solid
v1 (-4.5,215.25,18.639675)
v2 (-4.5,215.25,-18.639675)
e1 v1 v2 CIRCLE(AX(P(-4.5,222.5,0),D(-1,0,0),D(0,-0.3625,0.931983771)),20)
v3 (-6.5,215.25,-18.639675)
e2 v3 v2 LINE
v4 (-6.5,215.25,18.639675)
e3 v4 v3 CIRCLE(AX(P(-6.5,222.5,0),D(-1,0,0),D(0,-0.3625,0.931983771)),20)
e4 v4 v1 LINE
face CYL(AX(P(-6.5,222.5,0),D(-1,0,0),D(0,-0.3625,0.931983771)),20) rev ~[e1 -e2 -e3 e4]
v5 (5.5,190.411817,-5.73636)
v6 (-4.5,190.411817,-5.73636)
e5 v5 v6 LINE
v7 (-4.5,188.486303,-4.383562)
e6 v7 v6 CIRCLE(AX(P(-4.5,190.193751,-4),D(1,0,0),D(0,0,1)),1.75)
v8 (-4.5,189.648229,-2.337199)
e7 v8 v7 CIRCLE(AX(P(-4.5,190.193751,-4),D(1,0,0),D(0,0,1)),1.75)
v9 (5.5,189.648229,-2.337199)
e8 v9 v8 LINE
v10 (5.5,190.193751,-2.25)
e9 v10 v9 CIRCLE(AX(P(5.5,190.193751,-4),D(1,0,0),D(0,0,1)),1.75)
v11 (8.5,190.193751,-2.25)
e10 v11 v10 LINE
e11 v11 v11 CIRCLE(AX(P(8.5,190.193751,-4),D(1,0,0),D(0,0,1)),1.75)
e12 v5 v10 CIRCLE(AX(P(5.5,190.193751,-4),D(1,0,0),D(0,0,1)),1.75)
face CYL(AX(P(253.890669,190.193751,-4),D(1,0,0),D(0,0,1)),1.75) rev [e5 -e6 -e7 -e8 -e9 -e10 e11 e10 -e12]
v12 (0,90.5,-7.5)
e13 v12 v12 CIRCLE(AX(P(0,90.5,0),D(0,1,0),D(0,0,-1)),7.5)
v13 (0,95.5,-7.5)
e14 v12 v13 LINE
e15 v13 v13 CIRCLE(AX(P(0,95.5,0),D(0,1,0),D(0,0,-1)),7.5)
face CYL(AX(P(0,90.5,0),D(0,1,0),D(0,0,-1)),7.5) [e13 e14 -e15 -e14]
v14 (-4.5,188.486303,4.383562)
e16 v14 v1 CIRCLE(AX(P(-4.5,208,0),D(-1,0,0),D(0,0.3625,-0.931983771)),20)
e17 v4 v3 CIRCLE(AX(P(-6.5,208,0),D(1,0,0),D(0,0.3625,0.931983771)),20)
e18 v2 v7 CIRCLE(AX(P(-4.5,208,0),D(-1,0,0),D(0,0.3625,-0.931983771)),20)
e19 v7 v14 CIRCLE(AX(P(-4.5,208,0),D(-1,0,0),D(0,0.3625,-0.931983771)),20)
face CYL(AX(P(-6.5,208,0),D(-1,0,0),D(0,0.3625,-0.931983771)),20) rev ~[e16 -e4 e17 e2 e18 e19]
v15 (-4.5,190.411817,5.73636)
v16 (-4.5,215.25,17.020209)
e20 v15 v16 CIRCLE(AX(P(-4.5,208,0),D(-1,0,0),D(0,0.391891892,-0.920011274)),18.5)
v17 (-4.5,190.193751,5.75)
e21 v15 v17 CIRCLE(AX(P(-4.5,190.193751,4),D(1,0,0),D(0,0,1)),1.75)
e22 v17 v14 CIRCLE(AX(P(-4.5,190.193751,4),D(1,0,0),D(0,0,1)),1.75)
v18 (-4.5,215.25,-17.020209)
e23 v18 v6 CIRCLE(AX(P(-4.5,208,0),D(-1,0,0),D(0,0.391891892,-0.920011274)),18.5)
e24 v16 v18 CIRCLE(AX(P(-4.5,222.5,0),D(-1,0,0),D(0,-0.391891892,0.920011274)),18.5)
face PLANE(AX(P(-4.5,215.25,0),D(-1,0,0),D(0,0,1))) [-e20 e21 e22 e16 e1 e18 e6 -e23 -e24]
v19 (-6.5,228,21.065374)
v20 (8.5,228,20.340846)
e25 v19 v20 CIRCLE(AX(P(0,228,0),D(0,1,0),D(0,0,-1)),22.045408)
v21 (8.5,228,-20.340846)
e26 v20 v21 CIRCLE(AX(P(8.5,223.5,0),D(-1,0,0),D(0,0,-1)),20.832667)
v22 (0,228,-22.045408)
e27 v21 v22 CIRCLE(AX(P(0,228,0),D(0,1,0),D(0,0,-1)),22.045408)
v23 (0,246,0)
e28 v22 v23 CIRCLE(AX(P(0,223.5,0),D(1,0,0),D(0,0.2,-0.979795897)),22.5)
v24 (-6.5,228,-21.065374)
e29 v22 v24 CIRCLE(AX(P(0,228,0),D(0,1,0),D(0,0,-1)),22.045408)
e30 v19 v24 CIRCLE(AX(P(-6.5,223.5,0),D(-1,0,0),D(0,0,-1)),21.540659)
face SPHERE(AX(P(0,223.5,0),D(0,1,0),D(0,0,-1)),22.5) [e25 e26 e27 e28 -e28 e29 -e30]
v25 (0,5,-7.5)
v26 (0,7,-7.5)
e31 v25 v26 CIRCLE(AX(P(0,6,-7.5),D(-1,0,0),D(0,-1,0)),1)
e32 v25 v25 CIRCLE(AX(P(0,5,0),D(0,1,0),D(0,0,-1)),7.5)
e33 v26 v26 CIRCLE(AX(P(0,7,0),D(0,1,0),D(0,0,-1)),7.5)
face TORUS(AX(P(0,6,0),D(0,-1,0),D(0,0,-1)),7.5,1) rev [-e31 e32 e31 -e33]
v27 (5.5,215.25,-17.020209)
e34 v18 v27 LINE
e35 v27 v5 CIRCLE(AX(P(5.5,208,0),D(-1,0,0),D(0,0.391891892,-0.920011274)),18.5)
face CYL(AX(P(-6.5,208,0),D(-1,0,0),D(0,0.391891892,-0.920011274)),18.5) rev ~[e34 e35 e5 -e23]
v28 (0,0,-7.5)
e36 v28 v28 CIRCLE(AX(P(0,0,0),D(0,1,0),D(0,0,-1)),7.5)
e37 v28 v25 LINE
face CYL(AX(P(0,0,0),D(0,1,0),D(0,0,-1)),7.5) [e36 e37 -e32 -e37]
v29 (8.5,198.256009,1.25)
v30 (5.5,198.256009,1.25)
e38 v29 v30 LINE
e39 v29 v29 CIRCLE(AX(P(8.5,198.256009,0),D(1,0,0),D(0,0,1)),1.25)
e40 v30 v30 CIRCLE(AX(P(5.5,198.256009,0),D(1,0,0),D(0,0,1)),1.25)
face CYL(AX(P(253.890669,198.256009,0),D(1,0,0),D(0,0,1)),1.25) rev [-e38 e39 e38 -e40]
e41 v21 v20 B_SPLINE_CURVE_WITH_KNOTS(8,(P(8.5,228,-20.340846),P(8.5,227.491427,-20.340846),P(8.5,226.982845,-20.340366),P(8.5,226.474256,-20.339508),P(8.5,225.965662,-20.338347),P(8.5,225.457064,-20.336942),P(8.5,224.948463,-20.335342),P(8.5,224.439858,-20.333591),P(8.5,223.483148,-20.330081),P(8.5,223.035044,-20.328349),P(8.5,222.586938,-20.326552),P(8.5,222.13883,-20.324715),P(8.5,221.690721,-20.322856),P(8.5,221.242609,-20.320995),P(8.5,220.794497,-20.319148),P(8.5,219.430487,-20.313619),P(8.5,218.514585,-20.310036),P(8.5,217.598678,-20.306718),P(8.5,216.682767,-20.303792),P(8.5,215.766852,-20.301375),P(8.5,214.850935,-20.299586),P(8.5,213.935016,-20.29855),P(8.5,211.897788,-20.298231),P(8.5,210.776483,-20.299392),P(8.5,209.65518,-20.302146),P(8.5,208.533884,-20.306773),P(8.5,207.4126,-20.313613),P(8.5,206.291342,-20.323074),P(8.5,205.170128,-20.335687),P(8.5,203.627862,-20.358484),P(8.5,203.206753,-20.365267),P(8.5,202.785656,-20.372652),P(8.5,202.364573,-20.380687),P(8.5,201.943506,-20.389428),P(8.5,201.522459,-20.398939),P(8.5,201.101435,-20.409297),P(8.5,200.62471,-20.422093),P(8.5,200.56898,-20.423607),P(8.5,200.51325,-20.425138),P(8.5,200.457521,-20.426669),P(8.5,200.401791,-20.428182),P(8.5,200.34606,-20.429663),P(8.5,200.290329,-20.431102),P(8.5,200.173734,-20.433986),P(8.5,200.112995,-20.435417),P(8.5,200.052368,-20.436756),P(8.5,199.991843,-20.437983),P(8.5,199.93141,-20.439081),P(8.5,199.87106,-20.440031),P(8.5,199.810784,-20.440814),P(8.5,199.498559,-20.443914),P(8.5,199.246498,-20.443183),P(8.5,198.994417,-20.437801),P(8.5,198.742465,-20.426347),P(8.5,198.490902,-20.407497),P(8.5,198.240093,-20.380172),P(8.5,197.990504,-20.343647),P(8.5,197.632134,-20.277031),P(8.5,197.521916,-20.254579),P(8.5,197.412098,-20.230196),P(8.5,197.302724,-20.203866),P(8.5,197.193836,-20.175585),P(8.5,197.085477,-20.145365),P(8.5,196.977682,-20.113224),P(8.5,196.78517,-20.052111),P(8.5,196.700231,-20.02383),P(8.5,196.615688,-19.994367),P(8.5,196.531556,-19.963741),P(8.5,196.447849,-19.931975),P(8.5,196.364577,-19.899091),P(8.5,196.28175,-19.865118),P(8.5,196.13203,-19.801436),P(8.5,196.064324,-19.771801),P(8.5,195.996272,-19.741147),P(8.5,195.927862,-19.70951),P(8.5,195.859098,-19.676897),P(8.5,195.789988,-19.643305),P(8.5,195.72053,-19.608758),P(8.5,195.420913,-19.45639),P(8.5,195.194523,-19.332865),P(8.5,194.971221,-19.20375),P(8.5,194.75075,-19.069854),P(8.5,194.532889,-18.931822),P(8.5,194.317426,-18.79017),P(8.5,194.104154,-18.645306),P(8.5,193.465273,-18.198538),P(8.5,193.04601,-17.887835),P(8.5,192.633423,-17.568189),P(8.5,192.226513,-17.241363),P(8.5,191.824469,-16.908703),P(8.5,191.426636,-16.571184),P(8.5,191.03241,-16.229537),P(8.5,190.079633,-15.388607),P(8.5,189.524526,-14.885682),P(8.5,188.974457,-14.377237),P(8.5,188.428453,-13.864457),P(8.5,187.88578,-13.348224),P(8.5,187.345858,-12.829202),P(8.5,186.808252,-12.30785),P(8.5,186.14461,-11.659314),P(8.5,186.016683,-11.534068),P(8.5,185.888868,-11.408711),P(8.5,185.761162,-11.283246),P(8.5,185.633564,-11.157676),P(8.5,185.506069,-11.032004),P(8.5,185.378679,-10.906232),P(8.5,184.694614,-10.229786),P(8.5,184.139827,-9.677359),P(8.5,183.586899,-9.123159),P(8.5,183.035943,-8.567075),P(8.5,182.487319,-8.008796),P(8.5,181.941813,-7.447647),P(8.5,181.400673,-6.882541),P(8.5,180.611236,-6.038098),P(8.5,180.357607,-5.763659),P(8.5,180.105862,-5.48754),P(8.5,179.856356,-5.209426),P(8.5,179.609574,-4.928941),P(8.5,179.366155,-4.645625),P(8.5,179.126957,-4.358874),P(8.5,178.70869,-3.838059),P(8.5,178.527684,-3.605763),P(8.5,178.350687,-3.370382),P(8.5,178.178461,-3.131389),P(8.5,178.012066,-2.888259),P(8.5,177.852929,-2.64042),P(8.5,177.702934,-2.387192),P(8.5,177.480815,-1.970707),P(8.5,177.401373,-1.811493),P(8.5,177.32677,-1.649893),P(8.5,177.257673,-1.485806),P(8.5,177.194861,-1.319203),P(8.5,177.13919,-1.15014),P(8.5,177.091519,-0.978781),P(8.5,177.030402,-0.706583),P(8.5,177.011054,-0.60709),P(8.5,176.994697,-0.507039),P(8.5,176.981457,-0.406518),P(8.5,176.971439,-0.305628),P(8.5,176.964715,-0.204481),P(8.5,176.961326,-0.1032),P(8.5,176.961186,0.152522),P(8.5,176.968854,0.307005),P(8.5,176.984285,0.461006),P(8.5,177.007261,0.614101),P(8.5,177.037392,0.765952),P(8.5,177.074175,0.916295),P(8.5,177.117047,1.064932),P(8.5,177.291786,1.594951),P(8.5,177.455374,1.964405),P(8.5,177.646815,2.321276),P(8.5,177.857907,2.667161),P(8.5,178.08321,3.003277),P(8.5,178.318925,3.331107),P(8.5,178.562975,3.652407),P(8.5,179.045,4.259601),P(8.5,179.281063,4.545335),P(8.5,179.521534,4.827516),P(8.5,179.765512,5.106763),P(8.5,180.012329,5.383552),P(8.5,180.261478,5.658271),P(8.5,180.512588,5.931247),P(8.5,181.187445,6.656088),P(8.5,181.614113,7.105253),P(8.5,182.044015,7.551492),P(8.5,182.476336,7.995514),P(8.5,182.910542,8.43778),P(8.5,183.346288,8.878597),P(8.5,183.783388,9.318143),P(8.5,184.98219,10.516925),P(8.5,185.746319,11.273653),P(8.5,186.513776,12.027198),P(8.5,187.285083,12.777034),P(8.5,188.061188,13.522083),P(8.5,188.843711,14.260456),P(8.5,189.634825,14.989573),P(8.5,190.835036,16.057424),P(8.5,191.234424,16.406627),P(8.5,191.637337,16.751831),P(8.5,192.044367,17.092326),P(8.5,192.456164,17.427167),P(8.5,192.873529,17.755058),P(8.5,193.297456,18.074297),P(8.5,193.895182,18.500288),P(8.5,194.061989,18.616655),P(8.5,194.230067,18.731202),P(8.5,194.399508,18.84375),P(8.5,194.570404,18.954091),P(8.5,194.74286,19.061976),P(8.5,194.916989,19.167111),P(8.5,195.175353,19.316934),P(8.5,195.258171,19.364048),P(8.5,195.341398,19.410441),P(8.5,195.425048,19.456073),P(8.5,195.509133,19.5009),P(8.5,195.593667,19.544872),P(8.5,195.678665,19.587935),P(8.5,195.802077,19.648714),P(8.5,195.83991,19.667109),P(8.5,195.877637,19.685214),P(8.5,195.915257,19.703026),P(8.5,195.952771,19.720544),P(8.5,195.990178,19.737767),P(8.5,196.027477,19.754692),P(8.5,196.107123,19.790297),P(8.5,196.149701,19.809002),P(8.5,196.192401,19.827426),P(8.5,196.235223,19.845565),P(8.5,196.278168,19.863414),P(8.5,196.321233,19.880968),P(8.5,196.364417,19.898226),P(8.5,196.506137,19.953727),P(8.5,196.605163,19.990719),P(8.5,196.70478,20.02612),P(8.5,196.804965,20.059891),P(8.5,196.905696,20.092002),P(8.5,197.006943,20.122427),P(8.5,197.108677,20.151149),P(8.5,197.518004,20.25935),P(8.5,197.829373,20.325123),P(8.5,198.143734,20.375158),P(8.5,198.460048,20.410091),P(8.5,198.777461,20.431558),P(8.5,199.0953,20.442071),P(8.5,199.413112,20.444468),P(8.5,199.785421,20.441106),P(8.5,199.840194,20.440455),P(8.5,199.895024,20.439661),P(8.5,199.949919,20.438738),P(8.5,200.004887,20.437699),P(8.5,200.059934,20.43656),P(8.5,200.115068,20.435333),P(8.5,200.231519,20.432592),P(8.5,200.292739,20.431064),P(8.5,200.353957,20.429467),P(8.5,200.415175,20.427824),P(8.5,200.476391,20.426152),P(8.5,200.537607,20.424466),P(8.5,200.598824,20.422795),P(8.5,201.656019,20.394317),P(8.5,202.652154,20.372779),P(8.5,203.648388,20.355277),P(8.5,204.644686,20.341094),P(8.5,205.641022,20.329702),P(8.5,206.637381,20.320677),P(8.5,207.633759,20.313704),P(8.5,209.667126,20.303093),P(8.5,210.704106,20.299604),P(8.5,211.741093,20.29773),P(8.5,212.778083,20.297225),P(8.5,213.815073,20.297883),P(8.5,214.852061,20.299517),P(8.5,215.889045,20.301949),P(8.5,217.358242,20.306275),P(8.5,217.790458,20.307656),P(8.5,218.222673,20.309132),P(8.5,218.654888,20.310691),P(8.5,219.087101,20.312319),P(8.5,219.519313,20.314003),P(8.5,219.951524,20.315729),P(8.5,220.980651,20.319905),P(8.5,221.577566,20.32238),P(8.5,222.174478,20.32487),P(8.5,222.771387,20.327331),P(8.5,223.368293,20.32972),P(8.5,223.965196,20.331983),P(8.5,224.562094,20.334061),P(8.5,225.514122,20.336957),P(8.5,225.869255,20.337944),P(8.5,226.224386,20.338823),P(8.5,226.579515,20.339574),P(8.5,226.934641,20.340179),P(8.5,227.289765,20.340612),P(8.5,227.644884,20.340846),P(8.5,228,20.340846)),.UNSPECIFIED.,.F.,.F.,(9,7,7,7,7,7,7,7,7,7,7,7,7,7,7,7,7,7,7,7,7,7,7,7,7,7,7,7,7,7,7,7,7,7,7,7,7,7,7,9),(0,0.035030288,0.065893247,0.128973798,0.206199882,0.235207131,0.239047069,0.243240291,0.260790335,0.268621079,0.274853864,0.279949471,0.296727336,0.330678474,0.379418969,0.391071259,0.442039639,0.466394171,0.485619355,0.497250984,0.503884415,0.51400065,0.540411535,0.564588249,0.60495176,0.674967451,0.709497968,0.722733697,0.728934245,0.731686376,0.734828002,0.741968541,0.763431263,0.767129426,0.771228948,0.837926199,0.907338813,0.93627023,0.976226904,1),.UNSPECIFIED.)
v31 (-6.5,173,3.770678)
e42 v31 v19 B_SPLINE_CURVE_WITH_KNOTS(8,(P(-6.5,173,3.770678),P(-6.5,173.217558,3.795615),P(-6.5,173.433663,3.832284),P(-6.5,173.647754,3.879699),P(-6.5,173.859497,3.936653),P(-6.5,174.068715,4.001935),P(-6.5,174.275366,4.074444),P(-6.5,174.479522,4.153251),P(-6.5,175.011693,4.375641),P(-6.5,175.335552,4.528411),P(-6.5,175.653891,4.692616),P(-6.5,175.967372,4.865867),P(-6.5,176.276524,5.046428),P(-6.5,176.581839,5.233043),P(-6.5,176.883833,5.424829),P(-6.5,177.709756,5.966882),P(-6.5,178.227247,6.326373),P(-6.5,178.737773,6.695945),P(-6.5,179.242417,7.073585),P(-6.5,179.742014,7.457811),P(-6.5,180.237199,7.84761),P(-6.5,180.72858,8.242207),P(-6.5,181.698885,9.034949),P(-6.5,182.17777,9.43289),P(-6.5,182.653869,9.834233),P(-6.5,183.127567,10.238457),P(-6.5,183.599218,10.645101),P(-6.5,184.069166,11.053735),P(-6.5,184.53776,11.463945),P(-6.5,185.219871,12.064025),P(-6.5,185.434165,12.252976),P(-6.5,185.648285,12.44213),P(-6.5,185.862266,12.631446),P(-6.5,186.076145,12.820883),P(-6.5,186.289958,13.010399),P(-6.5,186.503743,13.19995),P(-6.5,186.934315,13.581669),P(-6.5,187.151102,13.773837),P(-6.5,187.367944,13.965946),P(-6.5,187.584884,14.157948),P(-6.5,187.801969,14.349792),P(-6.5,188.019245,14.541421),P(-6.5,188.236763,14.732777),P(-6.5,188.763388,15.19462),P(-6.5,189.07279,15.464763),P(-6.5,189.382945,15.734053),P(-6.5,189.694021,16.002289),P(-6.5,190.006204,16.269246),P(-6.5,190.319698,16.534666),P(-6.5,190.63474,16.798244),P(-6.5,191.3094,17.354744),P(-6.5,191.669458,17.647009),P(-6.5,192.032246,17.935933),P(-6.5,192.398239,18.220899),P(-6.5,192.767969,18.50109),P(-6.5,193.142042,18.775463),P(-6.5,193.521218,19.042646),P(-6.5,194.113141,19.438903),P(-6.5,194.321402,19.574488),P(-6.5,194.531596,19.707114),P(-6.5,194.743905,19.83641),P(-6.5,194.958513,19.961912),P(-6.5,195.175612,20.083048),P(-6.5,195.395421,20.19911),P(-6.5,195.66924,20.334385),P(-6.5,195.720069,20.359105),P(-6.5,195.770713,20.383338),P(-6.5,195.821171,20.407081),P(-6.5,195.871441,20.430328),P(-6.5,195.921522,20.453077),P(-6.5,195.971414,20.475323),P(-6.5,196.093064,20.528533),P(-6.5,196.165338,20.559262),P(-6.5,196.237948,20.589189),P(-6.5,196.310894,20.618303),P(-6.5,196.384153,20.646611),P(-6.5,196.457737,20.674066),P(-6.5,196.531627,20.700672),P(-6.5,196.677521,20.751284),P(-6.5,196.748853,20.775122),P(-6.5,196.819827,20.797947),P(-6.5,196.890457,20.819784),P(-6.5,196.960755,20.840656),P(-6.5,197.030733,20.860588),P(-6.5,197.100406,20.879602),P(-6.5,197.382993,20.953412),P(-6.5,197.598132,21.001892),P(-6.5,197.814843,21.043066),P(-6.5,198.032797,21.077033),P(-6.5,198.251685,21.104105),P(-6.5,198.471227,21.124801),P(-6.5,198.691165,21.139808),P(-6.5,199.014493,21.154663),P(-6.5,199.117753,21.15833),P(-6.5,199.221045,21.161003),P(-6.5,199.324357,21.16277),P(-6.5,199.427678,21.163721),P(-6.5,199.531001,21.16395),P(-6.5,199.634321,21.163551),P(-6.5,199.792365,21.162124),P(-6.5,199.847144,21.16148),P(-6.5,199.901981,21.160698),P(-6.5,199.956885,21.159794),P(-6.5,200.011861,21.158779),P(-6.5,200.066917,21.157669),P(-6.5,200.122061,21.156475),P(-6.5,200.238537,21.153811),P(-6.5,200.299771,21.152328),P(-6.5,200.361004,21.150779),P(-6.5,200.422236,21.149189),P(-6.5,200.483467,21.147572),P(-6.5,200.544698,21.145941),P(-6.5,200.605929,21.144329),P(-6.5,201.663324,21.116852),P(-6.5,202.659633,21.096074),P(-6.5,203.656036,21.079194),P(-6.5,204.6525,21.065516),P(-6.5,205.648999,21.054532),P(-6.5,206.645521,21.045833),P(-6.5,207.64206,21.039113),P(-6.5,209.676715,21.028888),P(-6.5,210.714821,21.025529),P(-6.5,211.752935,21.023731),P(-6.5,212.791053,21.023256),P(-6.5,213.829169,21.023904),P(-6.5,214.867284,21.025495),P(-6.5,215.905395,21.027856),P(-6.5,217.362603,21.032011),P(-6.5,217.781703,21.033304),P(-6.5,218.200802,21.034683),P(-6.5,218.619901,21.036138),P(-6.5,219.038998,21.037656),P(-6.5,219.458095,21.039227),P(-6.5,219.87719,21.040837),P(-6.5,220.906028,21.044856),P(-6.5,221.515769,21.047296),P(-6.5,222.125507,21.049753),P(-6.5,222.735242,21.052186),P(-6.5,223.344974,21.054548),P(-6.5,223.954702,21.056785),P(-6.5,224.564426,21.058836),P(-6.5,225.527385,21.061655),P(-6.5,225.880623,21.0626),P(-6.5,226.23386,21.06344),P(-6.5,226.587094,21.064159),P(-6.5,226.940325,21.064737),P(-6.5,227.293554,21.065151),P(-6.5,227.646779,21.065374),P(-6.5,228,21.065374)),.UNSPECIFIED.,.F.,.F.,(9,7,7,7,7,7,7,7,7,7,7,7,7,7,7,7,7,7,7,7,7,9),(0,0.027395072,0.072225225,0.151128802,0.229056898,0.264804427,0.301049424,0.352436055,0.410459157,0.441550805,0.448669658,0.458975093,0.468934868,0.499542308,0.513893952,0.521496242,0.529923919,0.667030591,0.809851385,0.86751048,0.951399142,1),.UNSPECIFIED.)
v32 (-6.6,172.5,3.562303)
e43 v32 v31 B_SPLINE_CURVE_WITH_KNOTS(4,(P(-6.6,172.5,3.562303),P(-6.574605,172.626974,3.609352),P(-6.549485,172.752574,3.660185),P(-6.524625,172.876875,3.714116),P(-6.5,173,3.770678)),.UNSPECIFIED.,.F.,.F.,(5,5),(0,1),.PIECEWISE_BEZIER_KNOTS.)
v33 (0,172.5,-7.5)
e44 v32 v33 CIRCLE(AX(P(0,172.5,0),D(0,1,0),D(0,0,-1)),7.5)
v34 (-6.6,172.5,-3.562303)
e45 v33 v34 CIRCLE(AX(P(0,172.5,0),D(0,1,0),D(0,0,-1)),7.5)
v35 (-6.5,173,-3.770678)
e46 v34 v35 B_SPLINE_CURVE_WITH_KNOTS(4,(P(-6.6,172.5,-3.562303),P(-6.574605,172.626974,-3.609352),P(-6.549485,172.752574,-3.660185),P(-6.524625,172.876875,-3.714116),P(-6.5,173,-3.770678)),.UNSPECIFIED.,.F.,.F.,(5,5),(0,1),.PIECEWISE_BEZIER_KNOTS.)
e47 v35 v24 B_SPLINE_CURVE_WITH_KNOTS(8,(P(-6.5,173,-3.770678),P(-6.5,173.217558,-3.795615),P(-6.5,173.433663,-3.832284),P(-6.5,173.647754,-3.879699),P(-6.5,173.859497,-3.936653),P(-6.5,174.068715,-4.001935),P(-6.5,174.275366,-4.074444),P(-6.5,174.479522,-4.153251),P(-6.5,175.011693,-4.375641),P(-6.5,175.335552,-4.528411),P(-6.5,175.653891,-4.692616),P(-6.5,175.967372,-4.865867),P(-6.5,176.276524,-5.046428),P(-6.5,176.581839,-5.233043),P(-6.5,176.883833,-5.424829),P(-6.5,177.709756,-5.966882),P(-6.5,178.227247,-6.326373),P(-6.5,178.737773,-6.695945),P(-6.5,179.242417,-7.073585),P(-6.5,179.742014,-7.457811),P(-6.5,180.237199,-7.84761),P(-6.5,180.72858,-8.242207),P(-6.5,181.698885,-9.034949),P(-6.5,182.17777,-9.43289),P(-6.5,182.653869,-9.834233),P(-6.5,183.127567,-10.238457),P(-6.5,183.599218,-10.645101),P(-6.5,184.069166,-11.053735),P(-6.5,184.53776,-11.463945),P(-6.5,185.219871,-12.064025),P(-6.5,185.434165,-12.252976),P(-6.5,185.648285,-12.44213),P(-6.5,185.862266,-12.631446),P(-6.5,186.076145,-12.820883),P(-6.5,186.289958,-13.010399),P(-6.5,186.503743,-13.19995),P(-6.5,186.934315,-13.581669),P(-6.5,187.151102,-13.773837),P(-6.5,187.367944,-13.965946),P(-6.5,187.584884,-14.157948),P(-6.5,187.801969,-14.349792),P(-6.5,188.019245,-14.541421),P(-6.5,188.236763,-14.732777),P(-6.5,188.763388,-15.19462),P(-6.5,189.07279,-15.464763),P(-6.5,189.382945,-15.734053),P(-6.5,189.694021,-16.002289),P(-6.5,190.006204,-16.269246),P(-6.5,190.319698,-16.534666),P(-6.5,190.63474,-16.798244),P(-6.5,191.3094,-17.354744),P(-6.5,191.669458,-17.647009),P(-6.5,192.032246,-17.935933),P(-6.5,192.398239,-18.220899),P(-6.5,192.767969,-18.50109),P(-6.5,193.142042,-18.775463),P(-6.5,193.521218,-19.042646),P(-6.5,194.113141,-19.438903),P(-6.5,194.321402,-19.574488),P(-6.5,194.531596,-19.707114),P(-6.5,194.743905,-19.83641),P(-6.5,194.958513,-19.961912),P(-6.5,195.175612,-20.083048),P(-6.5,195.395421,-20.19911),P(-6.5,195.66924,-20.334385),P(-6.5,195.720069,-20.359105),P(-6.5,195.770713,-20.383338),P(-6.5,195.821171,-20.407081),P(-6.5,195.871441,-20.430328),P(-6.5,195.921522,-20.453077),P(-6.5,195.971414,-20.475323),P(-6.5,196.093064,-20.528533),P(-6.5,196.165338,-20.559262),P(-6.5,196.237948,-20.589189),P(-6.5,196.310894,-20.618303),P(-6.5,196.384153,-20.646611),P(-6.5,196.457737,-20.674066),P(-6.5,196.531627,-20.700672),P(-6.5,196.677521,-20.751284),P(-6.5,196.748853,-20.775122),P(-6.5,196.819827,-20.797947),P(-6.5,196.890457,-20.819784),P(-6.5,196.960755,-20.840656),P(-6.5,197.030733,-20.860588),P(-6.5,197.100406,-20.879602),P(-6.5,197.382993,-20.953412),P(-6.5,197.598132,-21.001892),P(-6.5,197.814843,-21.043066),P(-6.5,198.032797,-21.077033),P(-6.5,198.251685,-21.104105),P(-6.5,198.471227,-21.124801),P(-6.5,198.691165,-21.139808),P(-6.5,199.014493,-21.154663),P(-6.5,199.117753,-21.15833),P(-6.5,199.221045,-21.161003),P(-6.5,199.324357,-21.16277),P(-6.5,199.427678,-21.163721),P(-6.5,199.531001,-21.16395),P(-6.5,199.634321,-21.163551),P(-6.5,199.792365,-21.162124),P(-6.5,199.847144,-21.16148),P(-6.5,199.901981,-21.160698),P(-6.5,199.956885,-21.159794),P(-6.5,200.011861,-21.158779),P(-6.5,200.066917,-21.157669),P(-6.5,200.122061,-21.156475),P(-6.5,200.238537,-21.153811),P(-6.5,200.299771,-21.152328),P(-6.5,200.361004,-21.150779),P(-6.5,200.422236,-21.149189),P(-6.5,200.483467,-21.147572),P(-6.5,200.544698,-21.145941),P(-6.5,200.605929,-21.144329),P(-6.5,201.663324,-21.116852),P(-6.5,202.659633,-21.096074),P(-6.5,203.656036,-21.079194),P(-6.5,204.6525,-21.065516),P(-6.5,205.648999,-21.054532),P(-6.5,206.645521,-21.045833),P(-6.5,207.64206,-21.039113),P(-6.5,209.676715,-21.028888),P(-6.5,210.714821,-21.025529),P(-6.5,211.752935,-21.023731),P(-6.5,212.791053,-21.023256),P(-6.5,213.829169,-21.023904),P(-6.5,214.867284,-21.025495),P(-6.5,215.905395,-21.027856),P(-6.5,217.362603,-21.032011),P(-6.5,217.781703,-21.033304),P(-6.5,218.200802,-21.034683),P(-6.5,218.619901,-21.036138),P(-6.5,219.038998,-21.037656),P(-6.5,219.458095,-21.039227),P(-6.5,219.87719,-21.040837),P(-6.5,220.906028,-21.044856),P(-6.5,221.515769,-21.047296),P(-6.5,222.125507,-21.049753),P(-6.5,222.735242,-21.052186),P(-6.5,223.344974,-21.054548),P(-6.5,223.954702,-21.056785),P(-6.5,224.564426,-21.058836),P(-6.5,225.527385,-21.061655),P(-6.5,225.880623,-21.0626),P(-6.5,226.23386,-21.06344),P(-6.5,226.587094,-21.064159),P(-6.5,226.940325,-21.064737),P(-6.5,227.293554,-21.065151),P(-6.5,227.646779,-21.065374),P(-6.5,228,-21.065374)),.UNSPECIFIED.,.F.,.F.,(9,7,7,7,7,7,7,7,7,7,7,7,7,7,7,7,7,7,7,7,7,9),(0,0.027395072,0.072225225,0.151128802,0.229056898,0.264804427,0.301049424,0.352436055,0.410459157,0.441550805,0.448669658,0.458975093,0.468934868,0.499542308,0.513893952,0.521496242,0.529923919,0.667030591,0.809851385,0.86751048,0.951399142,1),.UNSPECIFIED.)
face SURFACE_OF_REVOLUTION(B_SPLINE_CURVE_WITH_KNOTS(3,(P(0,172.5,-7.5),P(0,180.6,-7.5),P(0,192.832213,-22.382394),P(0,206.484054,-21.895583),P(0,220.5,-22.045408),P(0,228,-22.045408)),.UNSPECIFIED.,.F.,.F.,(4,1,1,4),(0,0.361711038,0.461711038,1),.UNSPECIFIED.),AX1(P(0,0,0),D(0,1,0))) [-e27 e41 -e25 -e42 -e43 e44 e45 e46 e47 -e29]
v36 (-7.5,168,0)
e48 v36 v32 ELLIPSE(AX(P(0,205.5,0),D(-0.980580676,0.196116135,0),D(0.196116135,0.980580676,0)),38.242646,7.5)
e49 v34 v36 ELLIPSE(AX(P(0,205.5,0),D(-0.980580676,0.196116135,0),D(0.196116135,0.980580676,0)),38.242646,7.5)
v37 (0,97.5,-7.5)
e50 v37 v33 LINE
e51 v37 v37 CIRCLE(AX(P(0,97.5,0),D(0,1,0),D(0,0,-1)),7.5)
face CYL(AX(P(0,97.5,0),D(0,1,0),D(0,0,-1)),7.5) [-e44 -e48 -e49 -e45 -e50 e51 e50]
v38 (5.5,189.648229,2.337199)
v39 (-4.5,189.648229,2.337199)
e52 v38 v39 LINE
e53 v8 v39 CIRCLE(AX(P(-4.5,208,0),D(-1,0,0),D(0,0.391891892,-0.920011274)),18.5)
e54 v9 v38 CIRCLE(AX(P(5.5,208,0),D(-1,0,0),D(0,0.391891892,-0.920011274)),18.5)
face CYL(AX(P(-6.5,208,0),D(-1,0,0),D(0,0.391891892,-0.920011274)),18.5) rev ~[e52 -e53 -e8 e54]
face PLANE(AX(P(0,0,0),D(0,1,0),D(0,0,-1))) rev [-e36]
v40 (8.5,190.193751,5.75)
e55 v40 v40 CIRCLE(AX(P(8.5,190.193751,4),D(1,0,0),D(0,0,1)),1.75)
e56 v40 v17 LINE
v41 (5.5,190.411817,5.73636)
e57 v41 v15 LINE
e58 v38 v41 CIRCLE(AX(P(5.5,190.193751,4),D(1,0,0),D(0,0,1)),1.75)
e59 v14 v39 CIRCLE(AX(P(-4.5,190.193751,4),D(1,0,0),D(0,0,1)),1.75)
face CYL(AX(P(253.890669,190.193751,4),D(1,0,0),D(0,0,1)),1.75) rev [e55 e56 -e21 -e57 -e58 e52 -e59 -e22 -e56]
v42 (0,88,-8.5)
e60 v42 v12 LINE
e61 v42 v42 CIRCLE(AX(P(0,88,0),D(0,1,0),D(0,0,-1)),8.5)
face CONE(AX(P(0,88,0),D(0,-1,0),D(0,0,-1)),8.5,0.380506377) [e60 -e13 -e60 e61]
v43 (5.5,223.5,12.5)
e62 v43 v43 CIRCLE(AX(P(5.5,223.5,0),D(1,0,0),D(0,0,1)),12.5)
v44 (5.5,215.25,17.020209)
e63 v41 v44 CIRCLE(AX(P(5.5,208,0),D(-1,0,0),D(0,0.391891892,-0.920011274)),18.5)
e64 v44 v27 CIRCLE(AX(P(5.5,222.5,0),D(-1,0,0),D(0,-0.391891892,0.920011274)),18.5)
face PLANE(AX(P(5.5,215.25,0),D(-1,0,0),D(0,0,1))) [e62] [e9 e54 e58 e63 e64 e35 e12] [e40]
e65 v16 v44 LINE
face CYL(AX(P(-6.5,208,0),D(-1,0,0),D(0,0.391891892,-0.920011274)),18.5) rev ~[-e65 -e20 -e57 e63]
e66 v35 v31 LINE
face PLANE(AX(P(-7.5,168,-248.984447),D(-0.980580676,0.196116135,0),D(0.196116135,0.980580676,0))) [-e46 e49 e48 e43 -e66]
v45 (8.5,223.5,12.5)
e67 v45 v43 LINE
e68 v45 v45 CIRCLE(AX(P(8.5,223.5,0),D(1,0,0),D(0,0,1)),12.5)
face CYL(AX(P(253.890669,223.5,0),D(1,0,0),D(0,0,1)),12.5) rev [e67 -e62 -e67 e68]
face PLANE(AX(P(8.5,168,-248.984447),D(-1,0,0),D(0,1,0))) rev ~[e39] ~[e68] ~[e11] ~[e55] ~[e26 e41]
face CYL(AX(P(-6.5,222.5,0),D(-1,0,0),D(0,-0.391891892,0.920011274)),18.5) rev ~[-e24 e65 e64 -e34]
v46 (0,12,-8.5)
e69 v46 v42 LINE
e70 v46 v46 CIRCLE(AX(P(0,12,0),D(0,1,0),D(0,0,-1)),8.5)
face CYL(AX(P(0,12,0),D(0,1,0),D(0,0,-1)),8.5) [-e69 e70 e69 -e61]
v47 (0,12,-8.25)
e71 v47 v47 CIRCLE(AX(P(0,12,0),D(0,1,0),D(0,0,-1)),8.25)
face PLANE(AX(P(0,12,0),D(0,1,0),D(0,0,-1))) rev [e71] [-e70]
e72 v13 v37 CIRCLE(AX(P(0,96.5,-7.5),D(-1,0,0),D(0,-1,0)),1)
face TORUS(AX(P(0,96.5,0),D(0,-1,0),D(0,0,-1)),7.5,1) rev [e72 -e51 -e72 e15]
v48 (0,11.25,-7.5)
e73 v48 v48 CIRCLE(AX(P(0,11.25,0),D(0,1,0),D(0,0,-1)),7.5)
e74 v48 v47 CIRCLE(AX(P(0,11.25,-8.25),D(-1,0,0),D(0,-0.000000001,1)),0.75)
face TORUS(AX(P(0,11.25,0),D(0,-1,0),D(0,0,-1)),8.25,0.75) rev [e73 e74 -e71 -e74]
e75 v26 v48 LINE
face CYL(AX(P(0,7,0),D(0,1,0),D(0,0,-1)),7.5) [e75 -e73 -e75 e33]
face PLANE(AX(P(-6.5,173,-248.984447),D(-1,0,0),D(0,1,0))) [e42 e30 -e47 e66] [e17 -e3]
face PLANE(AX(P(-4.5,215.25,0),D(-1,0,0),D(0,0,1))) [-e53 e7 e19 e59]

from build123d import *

# Parameters (mm, degrees)
WYTNIJ_WYCI_GNI_CIE1_DEPTH      = 248.984446753
WYTNIJ_WYCI_GNI_CIE1_DEPTH_BACK = 248.984446753
SZKIC2_W                        = 31.290574964
SZKIC2_H                        = 87.321210772
WYTNIJ_WYCI_GNI_CIE2_DEPTH      = 2
WYTNIJ_WYCI_GNI_CIE3_DEPTH      = 12
WYTNIJ_WYCI_GNI_CIE4_DEPTH      = 248.390668611
WYTNIJ_WYCI_GNI_CIE4_DEPTH_BACK = 248.390668611
SZKIC5_R                        = 1.75
SZKIC5_R_2                      = 1.25
SZKIC5_R_3                      = 12.5


with BuildPart() as part:
    # Szkic1 → Obrót1 (revolve)
    with BuildSketch(Plane.XY, mode=Mode.PRIVATE) as obr_t1_sk:
        with BuildLine():
            Line((0, 0), (7.5, 0))
            Line((7.5, 0), (7.5, 5))
            ThreePointArc((7.5, 5), (6.5, 6), (7.5, 7))
            Line((7.5, 7), (7.5, 11.25))
            ThreePointArc((7.5, 11.25), (7.719669914, 11.780330086), (8.25, 12))
            Line((8.25, 12), (8.5, 12))
            Line((8.5, 12), (8.5, 88))
            Line((8.5, 88), (7.5, 90.5))
            Line((7.5, 90.5), (7.5, 95.5))
            ThreePointArc((7.5, 95.5), (6.5, 96.5), (7.5, 97.5))
            Line((7.5, 97.5), (7.5, 172.5))
            add(Edge.make_bspline(
                [(7.5, 172.5), (7.5, 180.6), (22.382394371, 192.832212865), (21.895583134, 206.484053927), (22.045407685, 220.5), (22.045407685, 228)],
                knots=[0, 0, 0, 0, 0.361711038, 0.461711038, 1, 1, 1, 1], degree=3))
            ThreePointArc((22.045407685, 228), (14.230249471, 240.928425058), (0, 246))
            Line((0, 246), (0, 0))
        make_face()
    revolve(obr_t1_sk.sketch.rotate(Axis((0, 0, 0), (0, 1, 0)), 90), axis=Axis((0, 0, 0), (0, 1, 0)))

    # Szkic2 → Wytnij-wyciągnięcie1 (cut, two sides: drawn at the far end of the back side and taken through both)
    with BuildSketch(Plane.XY.offset(-WYTNIJ_WYCI_GNI_CIE1_DEPTH_BACK)):
        Polygon((-7.5, 168), (-6.5, 173), (-6.5, 255.321210772), (-63.324406691, 255.321210772), (-63.324406691, 168), align=None)
        with Locations((24.145287482, 211.660605386)):
            Rectangle(SZKIC2_W, SZKIC2_H)
    extrude(amount=WYTNIJ_WYCI_GNI_CIE1_DEPTH + WYTNIJ_WYCI_GNI_CIE1_DEPTH_BACK, mode=Mode.SUBTRACT)

    # Szkic3 → Wytnij-wyciągnięcie2 (cut)
    with BuildSketch(Plane.ZY.offset(6.5)):
        with BuildLine():
            ThreePointArc((18.639675426, 215.25), (0, 242.5), (-18.639675426, 215.25))
            ThreePointArc((-18.639675426, 215.25), (0, 188), (18.639675426, 215.25))
        make_face()
    extrude(amount=-WYTNIJ_WYCI_GNI_CIE2_DEPTH, mode=Mode.SUBTRACT)

    # Szkic4 → Wytnij-wyciągnięcie3 (cut)
    with BuildSketch(Plane.ZY.offset(6.5)):
        with BuildLine():
            ThreePointArc((-17.020208577, 215.25), (0, 189.5), (17.020208577, 215.25))
            ThreePointArc((17.020208577, 215.25), (0, 241), (-17.020208577, 215.25))
        make_face()
    extrude(amount=-WYTNIJ_WYCI_GNI_CIE3_DEPTH, mode=Mode.SUBTRACT)

    # Szkic5 → Wytnij-wyciągnięcie4 (cut, two sides: drawn at the far end of the back side and taken through both)
    with BuildSketch(Plane.ZY.offset(-5.5).offset(-WYTNIJ_WYCI_GNI_CIE4_DEPTH_BACK)):
        with Locations((4, 190.193751097)):
            Circle(SZKIC5_R)
        with Locations((-4, 190.193751097)):
            Circle(SZKIC5_R)
        with Locations((0, 198.256008845)):
            Circle(SZKIC5_R_2)
        with Locations((0, 223.5)):
            Circle(SZKIC5_R_3)
    extrude(amount=WYTNIJ_WYCI_GNI_CIE4_DEPTH + WYTNIJ_WYCI_GNI_CIE4_DEPTH_BACK, mode=Mode.SUBTRACT)


solid = part.part
